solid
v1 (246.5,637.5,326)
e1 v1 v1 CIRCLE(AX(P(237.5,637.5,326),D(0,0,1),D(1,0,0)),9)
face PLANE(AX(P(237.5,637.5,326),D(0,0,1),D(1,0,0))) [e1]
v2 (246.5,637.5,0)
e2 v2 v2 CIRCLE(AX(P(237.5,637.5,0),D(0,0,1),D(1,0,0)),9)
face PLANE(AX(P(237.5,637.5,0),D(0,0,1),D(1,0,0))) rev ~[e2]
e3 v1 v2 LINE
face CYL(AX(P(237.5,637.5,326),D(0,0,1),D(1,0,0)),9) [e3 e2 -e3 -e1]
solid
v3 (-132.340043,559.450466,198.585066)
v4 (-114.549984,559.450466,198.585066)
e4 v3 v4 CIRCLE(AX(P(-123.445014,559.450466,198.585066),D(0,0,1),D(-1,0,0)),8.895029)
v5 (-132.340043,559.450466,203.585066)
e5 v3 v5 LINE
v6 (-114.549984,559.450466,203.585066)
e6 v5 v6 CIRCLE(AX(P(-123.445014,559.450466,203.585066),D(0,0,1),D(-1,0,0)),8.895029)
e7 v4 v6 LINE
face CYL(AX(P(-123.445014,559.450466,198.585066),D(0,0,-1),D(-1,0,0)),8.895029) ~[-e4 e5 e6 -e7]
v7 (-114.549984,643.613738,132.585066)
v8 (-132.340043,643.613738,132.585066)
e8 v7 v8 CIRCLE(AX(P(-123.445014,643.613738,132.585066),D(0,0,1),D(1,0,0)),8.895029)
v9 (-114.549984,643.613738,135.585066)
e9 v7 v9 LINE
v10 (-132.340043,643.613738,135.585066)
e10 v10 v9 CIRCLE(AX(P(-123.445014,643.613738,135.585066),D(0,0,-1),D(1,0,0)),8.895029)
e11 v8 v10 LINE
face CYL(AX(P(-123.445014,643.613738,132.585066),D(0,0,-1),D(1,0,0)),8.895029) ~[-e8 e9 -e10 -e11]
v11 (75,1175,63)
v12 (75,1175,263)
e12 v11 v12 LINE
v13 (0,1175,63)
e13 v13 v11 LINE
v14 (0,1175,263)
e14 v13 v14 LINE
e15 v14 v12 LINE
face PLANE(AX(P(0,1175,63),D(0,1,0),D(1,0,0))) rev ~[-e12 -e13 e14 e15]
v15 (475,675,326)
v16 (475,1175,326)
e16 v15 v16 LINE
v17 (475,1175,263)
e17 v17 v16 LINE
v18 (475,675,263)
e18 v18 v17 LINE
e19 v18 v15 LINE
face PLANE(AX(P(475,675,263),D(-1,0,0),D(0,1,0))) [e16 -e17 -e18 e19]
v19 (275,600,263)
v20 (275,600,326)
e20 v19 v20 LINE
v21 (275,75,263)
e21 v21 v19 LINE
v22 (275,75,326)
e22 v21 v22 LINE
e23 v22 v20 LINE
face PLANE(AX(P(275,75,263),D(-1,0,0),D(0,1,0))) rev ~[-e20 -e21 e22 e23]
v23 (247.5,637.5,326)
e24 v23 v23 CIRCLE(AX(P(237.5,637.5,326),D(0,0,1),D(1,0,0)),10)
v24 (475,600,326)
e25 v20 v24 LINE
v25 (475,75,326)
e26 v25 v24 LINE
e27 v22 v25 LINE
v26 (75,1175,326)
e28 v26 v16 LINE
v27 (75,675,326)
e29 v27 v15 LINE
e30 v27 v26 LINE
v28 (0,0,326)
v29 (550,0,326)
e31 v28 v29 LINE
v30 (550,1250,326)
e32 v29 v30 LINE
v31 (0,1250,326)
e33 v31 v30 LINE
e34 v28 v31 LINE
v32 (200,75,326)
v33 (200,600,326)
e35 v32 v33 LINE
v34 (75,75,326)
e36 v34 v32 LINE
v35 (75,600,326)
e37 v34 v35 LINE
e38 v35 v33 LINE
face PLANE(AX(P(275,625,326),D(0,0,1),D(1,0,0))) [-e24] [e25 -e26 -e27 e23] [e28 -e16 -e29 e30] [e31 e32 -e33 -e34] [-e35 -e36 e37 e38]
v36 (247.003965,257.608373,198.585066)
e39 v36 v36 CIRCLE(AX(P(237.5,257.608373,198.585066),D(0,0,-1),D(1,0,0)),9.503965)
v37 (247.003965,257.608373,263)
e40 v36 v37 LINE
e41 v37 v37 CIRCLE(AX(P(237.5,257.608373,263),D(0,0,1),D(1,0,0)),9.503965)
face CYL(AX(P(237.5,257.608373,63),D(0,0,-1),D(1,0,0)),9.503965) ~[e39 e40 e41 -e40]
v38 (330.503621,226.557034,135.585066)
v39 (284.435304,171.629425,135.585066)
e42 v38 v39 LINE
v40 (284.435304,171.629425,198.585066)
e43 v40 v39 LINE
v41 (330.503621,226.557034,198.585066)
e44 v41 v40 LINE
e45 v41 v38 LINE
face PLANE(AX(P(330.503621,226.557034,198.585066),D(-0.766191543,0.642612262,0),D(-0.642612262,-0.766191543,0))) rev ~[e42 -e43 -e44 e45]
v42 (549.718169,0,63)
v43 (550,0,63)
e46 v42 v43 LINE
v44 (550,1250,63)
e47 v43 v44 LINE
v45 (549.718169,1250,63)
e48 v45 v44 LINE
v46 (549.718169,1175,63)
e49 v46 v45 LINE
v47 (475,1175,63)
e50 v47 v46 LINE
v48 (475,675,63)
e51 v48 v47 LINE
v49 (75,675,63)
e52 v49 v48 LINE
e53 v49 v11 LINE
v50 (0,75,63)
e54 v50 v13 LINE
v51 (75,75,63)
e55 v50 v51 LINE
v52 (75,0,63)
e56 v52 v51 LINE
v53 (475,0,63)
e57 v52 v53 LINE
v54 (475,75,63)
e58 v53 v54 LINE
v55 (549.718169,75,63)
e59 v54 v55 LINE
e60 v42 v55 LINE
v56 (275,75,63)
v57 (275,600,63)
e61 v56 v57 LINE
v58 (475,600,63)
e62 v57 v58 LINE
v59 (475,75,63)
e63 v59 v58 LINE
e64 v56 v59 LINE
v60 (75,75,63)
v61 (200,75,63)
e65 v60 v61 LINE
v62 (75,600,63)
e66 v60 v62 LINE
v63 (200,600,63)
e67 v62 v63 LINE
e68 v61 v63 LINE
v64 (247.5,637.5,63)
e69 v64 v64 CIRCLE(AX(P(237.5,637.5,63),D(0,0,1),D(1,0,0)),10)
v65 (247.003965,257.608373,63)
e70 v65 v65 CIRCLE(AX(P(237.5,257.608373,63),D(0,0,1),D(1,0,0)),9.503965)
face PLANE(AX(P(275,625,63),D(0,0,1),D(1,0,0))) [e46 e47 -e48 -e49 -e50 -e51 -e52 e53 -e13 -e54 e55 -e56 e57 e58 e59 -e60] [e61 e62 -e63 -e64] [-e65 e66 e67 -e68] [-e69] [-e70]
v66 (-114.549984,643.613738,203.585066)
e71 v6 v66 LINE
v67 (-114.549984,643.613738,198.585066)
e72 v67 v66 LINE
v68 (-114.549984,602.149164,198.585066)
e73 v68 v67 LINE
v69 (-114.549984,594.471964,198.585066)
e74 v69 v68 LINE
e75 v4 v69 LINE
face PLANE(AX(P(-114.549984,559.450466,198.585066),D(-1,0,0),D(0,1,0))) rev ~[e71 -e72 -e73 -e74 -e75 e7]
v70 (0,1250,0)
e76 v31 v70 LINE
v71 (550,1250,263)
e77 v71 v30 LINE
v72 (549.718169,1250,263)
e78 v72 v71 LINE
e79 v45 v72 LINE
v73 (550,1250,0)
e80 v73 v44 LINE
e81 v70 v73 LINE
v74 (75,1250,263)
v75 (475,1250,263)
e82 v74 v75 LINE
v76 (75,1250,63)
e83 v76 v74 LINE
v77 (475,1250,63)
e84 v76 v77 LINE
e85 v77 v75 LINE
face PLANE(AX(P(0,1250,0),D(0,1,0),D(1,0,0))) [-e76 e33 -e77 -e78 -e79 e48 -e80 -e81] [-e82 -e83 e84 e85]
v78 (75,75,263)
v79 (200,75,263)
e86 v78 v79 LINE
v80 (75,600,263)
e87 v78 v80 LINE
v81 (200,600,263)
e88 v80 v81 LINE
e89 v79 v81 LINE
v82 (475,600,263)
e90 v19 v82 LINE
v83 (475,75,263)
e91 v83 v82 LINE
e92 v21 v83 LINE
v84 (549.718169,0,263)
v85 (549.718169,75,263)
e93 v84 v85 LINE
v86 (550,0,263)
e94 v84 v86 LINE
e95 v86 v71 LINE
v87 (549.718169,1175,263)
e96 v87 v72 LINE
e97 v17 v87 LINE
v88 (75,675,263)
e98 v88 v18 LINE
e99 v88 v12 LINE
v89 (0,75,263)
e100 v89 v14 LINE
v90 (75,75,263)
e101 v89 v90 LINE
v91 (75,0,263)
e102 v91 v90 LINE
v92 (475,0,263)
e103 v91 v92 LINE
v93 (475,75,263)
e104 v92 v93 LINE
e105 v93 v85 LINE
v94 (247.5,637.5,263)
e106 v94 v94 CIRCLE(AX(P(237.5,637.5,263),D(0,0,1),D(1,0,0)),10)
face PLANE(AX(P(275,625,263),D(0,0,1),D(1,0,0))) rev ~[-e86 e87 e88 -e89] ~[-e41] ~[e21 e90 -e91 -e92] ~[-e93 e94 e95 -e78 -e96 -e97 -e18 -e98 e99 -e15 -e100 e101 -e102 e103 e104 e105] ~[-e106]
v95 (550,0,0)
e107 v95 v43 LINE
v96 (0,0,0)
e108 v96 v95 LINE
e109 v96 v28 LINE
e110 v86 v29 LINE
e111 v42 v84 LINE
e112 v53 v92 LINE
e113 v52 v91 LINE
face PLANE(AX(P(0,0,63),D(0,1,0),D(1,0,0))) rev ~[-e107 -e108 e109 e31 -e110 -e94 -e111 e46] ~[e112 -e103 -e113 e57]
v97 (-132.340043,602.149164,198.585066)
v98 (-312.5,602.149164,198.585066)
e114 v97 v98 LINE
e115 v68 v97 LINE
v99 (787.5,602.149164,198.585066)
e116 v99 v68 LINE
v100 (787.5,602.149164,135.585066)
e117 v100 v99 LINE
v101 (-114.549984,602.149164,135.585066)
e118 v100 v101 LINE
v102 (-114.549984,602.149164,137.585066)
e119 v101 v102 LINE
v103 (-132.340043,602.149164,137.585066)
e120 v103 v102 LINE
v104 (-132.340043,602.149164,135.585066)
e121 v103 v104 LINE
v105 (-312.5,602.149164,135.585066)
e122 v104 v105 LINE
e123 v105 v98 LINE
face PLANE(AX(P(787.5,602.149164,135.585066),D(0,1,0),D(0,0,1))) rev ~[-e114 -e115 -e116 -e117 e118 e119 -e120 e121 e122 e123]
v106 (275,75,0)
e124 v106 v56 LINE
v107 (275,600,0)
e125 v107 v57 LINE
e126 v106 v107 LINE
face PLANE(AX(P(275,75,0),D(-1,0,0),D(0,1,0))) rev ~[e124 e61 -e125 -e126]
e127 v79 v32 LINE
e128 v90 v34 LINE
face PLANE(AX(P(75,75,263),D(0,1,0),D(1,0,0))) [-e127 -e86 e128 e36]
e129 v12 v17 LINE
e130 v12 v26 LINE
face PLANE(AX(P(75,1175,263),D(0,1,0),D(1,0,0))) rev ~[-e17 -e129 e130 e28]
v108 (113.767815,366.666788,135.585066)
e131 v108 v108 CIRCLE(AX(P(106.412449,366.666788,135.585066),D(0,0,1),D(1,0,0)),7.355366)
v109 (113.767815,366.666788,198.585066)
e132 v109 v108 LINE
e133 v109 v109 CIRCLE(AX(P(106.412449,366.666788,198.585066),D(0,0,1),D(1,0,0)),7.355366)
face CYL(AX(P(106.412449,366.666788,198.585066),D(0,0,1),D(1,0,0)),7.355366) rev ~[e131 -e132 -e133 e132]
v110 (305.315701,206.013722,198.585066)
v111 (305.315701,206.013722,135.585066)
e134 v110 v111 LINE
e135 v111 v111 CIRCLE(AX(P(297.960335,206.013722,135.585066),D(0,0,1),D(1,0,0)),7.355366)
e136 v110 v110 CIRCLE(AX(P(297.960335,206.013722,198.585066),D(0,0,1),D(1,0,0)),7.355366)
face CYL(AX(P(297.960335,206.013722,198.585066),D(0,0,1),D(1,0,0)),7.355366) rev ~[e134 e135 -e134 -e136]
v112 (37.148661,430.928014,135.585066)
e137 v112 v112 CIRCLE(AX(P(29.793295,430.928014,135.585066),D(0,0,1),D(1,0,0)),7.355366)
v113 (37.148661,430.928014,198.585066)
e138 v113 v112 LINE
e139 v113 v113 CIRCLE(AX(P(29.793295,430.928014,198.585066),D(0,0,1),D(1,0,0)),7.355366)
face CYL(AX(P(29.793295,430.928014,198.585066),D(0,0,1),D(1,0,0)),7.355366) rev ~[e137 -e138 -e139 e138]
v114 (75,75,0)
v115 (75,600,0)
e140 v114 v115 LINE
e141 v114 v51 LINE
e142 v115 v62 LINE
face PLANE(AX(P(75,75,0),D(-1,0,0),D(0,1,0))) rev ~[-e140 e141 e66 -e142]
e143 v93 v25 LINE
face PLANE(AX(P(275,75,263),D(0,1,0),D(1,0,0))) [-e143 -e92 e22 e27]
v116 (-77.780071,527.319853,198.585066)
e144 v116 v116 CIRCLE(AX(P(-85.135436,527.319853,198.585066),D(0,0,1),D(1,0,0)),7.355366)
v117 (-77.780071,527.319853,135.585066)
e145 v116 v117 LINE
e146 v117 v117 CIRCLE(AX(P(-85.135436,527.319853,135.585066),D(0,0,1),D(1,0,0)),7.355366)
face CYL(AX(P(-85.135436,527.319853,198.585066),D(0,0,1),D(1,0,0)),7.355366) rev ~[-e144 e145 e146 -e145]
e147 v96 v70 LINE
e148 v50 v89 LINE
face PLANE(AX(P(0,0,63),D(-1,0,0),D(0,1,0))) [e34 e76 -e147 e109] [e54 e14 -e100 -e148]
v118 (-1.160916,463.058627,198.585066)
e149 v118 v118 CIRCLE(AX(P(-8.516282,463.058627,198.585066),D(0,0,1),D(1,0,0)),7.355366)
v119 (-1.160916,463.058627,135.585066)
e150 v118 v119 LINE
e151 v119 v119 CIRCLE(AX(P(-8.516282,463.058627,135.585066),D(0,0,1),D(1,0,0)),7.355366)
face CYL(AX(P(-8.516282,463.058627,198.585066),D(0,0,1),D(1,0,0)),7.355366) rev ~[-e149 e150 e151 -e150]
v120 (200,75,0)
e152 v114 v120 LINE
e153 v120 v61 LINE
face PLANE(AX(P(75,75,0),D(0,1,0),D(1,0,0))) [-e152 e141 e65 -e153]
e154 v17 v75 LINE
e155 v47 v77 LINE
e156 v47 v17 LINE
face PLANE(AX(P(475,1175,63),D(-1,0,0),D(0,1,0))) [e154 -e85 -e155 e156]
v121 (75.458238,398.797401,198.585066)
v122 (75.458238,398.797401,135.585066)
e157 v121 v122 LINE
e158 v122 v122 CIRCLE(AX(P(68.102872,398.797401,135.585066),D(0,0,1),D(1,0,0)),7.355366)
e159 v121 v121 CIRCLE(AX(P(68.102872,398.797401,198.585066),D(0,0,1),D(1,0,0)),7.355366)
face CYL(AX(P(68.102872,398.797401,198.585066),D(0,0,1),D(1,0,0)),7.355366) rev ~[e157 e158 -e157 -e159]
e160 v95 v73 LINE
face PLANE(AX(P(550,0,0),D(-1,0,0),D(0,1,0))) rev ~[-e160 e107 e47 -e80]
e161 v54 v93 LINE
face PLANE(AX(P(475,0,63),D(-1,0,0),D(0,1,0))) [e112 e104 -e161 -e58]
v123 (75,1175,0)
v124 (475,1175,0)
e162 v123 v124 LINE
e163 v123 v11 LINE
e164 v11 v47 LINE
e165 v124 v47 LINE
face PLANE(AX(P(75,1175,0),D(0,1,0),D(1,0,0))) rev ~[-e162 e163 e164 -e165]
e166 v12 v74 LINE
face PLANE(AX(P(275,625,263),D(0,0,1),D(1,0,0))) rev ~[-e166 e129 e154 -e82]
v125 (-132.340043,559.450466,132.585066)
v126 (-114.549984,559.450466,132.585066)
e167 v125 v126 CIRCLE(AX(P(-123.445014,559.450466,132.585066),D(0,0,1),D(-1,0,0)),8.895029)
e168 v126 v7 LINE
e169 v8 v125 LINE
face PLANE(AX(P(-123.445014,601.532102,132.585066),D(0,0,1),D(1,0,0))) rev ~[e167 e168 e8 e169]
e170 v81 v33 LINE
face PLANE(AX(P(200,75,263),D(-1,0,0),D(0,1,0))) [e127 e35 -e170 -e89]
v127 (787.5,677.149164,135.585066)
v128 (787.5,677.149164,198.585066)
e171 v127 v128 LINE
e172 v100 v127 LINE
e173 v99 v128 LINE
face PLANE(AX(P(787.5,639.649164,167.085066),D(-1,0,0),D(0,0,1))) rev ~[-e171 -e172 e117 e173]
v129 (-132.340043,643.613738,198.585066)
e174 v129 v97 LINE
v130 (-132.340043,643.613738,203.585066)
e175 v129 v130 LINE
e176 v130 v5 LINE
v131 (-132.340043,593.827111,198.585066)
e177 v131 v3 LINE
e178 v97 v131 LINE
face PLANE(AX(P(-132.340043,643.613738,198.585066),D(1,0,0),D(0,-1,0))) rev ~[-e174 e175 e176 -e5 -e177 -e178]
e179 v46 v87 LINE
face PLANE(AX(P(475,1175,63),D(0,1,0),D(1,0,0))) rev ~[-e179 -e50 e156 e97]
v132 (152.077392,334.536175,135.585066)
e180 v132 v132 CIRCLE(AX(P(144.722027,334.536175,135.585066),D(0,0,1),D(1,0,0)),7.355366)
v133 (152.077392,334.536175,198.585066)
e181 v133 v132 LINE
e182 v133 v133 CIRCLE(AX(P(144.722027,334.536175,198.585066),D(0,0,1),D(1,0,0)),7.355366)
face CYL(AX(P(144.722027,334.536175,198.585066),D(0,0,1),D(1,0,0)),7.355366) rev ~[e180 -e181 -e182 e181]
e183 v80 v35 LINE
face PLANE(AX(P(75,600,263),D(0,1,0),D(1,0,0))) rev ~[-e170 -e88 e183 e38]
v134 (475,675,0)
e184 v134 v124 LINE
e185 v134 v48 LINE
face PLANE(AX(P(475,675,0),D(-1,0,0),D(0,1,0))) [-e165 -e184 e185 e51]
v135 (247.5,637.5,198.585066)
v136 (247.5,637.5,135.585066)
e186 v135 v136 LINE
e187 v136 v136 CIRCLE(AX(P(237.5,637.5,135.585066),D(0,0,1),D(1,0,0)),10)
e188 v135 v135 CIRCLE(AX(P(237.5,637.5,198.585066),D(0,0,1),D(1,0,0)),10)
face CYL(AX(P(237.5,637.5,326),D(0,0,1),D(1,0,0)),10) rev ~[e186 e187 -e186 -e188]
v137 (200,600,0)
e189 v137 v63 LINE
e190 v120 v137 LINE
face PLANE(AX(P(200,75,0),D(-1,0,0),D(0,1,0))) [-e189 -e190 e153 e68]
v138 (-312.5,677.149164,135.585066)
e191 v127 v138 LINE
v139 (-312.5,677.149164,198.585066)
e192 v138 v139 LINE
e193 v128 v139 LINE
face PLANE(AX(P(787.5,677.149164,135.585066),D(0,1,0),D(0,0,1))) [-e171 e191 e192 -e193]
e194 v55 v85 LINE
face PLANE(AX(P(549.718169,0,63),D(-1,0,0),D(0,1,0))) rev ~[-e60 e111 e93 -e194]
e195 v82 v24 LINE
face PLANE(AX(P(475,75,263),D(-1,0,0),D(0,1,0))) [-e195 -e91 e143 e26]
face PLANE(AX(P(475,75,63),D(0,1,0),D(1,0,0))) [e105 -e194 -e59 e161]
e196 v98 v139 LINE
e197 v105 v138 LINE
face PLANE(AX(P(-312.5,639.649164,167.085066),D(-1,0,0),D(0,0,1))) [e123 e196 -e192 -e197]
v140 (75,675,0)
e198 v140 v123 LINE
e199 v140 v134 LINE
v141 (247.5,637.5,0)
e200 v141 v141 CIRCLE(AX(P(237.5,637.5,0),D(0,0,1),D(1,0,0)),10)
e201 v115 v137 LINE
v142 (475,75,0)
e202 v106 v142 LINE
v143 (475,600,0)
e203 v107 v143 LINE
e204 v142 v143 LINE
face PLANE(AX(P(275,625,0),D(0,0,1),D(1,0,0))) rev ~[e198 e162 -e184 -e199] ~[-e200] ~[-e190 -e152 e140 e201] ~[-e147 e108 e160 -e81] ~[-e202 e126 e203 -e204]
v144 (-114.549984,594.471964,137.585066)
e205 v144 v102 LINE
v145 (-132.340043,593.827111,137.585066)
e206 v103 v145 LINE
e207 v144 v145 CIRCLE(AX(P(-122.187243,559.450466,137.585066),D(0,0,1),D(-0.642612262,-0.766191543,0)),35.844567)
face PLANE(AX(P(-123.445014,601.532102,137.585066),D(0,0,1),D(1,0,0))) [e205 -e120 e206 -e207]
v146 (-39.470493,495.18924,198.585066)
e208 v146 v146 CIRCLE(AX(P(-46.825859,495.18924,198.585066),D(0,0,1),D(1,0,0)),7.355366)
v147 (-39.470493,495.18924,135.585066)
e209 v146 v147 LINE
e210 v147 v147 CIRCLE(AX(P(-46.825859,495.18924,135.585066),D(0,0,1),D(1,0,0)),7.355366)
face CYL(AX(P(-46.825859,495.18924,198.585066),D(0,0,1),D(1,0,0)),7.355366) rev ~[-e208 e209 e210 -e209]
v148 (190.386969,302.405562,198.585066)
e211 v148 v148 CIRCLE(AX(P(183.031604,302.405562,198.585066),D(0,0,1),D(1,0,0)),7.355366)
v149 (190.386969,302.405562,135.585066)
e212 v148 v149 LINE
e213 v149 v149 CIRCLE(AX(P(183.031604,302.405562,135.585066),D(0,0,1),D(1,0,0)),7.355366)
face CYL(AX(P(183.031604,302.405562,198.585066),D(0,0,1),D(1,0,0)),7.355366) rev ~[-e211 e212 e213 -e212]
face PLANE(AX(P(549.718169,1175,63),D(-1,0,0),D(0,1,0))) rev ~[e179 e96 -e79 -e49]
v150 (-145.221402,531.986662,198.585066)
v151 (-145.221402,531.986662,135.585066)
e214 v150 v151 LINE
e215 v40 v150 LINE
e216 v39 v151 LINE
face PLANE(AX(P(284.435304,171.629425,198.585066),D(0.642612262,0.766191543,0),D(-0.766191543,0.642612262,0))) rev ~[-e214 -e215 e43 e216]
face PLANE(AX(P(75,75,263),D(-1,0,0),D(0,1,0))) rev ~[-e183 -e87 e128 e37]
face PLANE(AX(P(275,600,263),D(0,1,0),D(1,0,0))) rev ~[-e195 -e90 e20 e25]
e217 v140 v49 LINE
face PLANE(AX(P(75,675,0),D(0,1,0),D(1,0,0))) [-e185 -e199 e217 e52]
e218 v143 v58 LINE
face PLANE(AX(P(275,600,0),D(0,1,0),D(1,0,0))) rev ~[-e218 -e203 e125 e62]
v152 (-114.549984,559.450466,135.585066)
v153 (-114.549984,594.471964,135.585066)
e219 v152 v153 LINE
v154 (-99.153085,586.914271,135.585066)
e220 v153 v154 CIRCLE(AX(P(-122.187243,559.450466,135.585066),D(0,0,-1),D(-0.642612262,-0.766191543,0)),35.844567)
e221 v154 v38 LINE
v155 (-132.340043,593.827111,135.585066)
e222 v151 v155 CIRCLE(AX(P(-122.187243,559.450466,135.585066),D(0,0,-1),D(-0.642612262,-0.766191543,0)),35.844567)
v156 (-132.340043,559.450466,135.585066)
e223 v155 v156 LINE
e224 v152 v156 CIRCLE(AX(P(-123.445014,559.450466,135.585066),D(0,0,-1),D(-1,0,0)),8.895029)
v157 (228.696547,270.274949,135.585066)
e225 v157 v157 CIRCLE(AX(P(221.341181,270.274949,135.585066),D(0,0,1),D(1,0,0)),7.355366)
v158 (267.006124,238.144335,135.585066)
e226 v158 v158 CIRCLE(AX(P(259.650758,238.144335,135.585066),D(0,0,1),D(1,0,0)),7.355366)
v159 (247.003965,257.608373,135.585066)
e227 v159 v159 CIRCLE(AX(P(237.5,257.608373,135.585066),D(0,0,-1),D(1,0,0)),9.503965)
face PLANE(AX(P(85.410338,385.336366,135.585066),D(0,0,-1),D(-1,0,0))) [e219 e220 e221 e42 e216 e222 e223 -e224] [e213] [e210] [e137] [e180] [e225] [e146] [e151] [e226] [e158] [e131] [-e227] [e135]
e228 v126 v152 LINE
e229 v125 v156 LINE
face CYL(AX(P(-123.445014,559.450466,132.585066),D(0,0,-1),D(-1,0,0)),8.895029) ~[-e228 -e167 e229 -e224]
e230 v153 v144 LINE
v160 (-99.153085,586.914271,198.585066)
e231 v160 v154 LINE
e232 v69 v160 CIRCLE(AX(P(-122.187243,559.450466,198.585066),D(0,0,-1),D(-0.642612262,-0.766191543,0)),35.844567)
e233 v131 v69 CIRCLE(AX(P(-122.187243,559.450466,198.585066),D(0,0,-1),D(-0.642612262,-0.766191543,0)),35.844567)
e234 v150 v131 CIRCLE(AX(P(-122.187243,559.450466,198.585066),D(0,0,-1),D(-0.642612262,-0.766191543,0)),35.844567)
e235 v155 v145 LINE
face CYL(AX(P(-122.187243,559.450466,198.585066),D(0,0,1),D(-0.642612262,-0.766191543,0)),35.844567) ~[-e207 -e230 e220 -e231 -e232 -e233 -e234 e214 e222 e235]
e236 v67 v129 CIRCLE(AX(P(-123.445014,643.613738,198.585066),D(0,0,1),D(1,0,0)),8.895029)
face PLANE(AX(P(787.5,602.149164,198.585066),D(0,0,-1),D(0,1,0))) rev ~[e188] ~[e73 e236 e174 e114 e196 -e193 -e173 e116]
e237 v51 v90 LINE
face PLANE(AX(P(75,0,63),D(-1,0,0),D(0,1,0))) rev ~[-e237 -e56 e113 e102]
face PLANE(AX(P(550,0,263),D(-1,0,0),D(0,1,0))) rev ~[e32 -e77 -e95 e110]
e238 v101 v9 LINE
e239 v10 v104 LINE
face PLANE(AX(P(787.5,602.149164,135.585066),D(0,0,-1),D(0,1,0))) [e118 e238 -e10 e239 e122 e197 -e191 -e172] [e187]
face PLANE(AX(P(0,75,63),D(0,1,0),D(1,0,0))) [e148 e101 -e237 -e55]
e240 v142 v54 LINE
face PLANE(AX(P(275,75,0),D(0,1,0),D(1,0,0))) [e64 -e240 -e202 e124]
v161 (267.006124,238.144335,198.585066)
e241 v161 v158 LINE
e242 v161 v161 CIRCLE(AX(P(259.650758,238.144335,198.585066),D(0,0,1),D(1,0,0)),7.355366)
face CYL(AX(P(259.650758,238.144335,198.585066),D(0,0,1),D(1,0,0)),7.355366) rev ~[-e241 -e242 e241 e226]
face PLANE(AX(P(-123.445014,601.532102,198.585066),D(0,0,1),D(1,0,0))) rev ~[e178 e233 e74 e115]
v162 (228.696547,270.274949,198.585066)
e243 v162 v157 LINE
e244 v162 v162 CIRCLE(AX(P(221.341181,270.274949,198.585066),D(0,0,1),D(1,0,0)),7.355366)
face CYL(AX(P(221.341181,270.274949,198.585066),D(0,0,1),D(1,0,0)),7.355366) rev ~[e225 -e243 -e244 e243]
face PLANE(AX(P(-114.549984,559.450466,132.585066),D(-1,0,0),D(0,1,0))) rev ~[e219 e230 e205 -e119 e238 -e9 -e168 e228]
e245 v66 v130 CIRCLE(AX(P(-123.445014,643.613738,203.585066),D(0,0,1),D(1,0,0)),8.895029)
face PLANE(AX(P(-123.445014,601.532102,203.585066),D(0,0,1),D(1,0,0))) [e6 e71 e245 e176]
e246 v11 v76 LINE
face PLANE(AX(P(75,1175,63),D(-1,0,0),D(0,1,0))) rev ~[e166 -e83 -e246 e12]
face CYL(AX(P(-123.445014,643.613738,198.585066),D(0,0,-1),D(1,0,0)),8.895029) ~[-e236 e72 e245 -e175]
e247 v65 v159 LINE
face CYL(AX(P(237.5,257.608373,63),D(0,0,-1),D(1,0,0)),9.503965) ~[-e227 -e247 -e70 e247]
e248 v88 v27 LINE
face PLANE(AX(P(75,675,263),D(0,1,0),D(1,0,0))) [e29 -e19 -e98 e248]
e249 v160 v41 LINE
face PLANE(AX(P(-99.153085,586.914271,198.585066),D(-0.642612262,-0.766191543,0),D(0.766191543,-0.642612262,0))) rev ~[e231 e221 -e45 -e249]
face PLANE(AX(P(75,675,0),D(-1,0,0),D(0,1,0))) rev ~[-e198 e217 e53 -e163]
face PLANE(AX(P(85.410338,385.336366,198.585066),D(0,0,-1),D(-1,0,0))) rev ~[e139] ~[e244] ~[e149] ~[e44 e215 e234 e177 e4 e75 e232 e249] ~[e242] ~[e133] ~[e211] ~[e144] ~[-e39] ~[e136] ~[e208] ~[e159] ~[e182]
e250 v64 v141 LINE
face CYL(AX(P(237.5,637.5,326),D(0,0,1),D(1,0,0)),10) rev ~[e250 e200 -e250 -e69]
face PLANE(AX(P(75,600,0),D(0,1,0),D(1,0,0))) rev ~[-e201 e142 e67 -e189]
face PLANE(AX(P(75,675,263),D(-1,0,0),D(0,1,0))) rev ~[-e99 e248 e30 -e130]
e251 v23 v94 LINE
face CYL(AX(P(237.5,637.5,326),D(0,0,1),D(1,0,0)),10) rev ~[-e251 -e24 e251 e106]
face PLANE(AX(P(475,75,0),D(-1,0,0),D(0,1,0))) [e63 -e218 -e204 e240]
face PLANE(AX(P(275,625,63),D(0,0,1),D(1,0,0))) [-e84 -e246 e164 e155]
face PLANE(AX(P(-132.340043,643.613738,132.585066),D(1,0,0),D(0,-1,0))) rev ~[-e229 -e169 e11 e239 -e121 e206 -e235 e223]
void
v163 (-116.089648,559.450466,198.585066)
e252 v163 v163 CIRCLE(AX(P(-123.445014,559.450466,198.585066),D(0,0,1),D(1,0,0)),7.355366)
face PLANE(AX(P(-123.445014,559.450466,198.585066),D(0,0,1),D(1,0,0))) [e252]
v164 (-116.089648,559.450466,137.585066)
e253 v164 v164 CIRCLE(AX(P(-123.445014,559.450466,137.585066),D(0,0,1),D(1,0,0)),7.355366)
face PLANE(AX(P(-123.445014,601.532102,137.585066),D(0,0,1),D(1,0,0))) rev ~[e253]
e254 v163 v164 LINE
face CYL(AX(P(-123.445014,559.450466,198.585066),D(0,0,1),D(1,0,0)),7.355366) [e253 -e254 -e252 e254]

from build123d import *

# Parameters (mm, degrees)
ESQUISSE1_W                = 550
ESQUISSE1_H                = 1250
ESQUISSE1_W_2              = 125
ESQUISSE1_H_2              = 525
ESQUISSE1_W_3              = 200
ESQUISSE1_W_4              = 400
ESQUISSE1_H_3              = 500
BOSS_EXTRU_1_DEPTH         = 63
R_P_TITION_LIN_AIRE1_COUNT = 2
R_P_TITION_LIN_AIRE1_PITCH = 263
ESQUISSE2_W                = 75
ESQUISSE2_H                = 75
ESQUISSE2_W_2              = 74.718169062
BOSS_EXTRU_2_DEPTH         = 200
BOSS_EXTRU_4_DEPTH         = 550
BOSS_EXTRU_4_DEPTH_BACK    = 550
ESQUISSE7_W                = 63
ESQUISSE7_H                = 75
ESQUISSE3_R                = 10
ENL_V_MAT_EXTRU_2_DEPTH    = 1513.921759378
BOSS_EXTRU_5_DEPTH         = 63
BOSS_EXTRU_6_DEPTH         = 5
ESQUISSE12_R               = 7.355365699
ENL_V_MAT_EXTRU_3_DEPTH    = 100
R_P_TITION_LIN_AIRE2_COUNT = 12
R_P_TITION_LIN_AIRE2_PITCH = 50
BOSS_EXTRU_7_START         = -263
ESQUISSE13_R               = 9.503964929
BOSS_EXTRU_7_DEPTH         = 200
R_P_TITION_LIN_AIRE3_COUNT = 2
R_P_TITION_LIN_AIRE3_PITCH = 66
ESQUISSE14_R               = 9
BOSS_EXTRU_8_DEPTH         = 326


with BuildPart() as part:
    # Esquisse1 → Boss.-Extru.1 (new body)
    with BuildSketch(Plane.XY):
        with Locations((275, 625)):
            Rectangle(ESQUISSE1_W, ESQUISSE1_H)
        with Locations((137.5, 337.5)):
            Rectangle(ESQUISSE1_W_2, ESQUISSE1_H_2, mode=Mode.SUBTRACT)
        with Locations((375, 337.5)):
            Rectangle(ESQUISSE1_W_3, ESQUISSE1_H_2, mode=Mode.SUBTRACT)
        with Locations((275, 925)):
            Rectangle(ESQUISSE1_W_4, ESQUISSE1_H_3, mode=Mode.SUBTRACT)
    extrude(amount=BOSS_EXTRU_1_DEPTH)


with BuildPart() as r_p_tition_lin_aire1_1:
    # Répétition linéaire1: pattern copy
    add(part.part.moved(Location(Vector(0, 0, 1) * (1 * R_P_TITION_LIN_AIRE1_PITCH))))


with BuildPart() as part_1:
    add(part.part)

    add(r_p_tition_lin_aire1_1.part)  # Boss.-Extru.2 merges Répétition linéaire1_1
    # Esquisse2 → Boss.-Extru.2 (add)
    with BuildSketch(Plane.XY.offset(63)):
        with Locations((37.5, 37.5)):
            Rectangle(ESQUISSE2_W, ESQUISSE2_H)
        with Locations((512.359084531, 37.5)):
            Rectangle(ESQUISSE2_W_2, ESQUISSE2_H)
        with Locations((512.359084531, 1212.5)):
            Rectangle(ESQUISSE2_W_2, ESQUISSE2_H)
        with Locations((37.5, 1212.5)):
            Rectangle(ESQUISSE2_W, ESQUISSE2_H)
    extrude(amount=BOSS_EXTRU_2_DEPTH)


with BuildPart() as body_2:
    # Esquisse7 → Boss.-Extru.4 (new, two sides: drawn at the far end of the back side and taken through both)
    with BuildSketch(Plane.ZY.offset(-237.5).offset(-BOSS_EXTRU_4_DEPTH_BACK)):
        with Locations((167.0850662, 639.649163537)):
            Rectangle(ESQUISSE7_W, ESQUISSE7_H)
    extrude(amount=BOSS_EXTRU_4_DEPTH + BOSS_EXTRU_4_DEPTH_BACK)


with BuildPart() as enl_v_mat_extru_2_tool:
    # Esquisse3 → Enlèv. mat.-Extru.2 (new, through all)
    with BuildSketch(Plane.XY.offset(326)):
        with Locations((237.5, 637.5)):
            Circle(ESQUISSE3_R)
    extrude(amount=-ENL_V_MAT_EXTRU_2_DEPTH)


with BuildPart() as part_2:
    add(part_1.part)

    # Enlèv. mat.-Extru.2: cut by enl_v_mat_extru_2_tool
    add(enl_v_mat_extru_2_tool.part, mode=Mode.SUBTRACT)



with BuildPart() as body_2_1:
    add(body_2.part)

    # Enlèv. mat.-Extru.2: cut by enl_v_mat_extru_2_tool
    add(enl_v_mat_extru_2_tool.part, mode=Mode.SUBTRACT)



with BuildPart() as body_3:
    # Esquisse11 → Boss.-Extru.5 (new body)
    with BuildSketch(Plane.XY.offset(198.5850662)):
        with BuildLine():
            Line((-99.153084709, 586.914270743), (330.503621206, 226.557033524))
            Line((330.503621206, 226.557033524), (284.435304351, 171.629424966))
            Line((284.435304351, 171.629424966), (-145.221401564, 531.986662185))
            ThreePointArc((-145.221401564, 531.986662185), (-149.651047416, 582.484624891), (-99.153084709, 586.914270743))
        make_face()
    extrude(amount=-BOSS_EXTRU_5_DEPTH)


with BuildPart() as body_2_2:
    add(body_2_1.part)

    add(body_3.part)  # Boss.-Extru.6 merges body 3
    # Esquisse11<3> → Boss.-Extru.6 (add)
    with BuildSketch(Plane.XY.offset(198.5850662)):
        with BuildLine():
            Line((-114.54998443, 559.450466464), (-114.54998443, 643.613737641))
            ThreePointArc((-114.54998443, 643.613737641), (-123.445013511, 652.508766722), (-132.340042592, 643.613737641))
            Line((-132.340042592, 643.613737641), (-132.340042592, 559.450466464))
            ThreePointArc((-132.340042592, 559.450466464), (-123.445013511, 550.555437383), (-114.54998443, 559.450466464))
        make_face()
    boss_extru_6 = extrude(amount=BOSS_EXTRU_6_DEPTH)

    # Esquisse12 → Enlèv. mat.-Extru.3 (cut)
    with BuildSketch(Plane.XY.offset(198.5850662)):
        with Locations((-123.445013511, 559.450466464)):
            Circle(ESQUISSE12_R)
    enl_v_mat_extru_3 = extrude(amount=-ENL_V_MAT_EXTRU_3_DEPTH, mode=Mode.SUBTRACT)

    # Répétition linéaire2: Enlèv. mat.-Extru.3 ×12
    with Locations(*[Vector(0.7661915431257939, -0.6426122619764696, 0) * (i * R_P_TITION_LIN_AIRE2_PITCH) for i in range(1, R_P_TITION_LIN_AIRE2_COUNT)]):
        add(enl_v_mat_extru_3, mode=Mode.SUBTRACT)


with BuildPart() as part_3:
    add(part_2.part)

    add(body_2_2.part)  # Boss.-Extru.7 merges body 2
    # Esquisse13 → Boss.-Extru.7 (add)
    with BuildSketch(Plane.XY.offset(326).offset(BOSS_EXTRU_7_START)):
        with Locations((237.5, 257.608372702)):
            Circle(ESQUISSE13_R)
    extrude(amount=BOSS_EXTRU_7_DEPTH)

    # Répétition linéaire3: Boss.-Extru.6 ×2
    with Locations(*[(0, 0, -i * R_P_TITION_LIN_AIRE3_PITCH) for i in range(1, R_P_TITION_LIN_AIRE3_COUNT)]):
        add(boss_extru_6)


with BuildPart() as body_2_2_1:
    # Esquisse14 → Boss.-Extru.8 (new body)
    with BuildSketch(Plane.XY.offset(326)):
        with Locations((237.5, 637.5)):
            Circle(ESQUISSE14_R)
    extrude(amount=-BOSS_EXTRU_8_DEPTH)


solid = Compound([part_3.part, body_2_2_1.part])
